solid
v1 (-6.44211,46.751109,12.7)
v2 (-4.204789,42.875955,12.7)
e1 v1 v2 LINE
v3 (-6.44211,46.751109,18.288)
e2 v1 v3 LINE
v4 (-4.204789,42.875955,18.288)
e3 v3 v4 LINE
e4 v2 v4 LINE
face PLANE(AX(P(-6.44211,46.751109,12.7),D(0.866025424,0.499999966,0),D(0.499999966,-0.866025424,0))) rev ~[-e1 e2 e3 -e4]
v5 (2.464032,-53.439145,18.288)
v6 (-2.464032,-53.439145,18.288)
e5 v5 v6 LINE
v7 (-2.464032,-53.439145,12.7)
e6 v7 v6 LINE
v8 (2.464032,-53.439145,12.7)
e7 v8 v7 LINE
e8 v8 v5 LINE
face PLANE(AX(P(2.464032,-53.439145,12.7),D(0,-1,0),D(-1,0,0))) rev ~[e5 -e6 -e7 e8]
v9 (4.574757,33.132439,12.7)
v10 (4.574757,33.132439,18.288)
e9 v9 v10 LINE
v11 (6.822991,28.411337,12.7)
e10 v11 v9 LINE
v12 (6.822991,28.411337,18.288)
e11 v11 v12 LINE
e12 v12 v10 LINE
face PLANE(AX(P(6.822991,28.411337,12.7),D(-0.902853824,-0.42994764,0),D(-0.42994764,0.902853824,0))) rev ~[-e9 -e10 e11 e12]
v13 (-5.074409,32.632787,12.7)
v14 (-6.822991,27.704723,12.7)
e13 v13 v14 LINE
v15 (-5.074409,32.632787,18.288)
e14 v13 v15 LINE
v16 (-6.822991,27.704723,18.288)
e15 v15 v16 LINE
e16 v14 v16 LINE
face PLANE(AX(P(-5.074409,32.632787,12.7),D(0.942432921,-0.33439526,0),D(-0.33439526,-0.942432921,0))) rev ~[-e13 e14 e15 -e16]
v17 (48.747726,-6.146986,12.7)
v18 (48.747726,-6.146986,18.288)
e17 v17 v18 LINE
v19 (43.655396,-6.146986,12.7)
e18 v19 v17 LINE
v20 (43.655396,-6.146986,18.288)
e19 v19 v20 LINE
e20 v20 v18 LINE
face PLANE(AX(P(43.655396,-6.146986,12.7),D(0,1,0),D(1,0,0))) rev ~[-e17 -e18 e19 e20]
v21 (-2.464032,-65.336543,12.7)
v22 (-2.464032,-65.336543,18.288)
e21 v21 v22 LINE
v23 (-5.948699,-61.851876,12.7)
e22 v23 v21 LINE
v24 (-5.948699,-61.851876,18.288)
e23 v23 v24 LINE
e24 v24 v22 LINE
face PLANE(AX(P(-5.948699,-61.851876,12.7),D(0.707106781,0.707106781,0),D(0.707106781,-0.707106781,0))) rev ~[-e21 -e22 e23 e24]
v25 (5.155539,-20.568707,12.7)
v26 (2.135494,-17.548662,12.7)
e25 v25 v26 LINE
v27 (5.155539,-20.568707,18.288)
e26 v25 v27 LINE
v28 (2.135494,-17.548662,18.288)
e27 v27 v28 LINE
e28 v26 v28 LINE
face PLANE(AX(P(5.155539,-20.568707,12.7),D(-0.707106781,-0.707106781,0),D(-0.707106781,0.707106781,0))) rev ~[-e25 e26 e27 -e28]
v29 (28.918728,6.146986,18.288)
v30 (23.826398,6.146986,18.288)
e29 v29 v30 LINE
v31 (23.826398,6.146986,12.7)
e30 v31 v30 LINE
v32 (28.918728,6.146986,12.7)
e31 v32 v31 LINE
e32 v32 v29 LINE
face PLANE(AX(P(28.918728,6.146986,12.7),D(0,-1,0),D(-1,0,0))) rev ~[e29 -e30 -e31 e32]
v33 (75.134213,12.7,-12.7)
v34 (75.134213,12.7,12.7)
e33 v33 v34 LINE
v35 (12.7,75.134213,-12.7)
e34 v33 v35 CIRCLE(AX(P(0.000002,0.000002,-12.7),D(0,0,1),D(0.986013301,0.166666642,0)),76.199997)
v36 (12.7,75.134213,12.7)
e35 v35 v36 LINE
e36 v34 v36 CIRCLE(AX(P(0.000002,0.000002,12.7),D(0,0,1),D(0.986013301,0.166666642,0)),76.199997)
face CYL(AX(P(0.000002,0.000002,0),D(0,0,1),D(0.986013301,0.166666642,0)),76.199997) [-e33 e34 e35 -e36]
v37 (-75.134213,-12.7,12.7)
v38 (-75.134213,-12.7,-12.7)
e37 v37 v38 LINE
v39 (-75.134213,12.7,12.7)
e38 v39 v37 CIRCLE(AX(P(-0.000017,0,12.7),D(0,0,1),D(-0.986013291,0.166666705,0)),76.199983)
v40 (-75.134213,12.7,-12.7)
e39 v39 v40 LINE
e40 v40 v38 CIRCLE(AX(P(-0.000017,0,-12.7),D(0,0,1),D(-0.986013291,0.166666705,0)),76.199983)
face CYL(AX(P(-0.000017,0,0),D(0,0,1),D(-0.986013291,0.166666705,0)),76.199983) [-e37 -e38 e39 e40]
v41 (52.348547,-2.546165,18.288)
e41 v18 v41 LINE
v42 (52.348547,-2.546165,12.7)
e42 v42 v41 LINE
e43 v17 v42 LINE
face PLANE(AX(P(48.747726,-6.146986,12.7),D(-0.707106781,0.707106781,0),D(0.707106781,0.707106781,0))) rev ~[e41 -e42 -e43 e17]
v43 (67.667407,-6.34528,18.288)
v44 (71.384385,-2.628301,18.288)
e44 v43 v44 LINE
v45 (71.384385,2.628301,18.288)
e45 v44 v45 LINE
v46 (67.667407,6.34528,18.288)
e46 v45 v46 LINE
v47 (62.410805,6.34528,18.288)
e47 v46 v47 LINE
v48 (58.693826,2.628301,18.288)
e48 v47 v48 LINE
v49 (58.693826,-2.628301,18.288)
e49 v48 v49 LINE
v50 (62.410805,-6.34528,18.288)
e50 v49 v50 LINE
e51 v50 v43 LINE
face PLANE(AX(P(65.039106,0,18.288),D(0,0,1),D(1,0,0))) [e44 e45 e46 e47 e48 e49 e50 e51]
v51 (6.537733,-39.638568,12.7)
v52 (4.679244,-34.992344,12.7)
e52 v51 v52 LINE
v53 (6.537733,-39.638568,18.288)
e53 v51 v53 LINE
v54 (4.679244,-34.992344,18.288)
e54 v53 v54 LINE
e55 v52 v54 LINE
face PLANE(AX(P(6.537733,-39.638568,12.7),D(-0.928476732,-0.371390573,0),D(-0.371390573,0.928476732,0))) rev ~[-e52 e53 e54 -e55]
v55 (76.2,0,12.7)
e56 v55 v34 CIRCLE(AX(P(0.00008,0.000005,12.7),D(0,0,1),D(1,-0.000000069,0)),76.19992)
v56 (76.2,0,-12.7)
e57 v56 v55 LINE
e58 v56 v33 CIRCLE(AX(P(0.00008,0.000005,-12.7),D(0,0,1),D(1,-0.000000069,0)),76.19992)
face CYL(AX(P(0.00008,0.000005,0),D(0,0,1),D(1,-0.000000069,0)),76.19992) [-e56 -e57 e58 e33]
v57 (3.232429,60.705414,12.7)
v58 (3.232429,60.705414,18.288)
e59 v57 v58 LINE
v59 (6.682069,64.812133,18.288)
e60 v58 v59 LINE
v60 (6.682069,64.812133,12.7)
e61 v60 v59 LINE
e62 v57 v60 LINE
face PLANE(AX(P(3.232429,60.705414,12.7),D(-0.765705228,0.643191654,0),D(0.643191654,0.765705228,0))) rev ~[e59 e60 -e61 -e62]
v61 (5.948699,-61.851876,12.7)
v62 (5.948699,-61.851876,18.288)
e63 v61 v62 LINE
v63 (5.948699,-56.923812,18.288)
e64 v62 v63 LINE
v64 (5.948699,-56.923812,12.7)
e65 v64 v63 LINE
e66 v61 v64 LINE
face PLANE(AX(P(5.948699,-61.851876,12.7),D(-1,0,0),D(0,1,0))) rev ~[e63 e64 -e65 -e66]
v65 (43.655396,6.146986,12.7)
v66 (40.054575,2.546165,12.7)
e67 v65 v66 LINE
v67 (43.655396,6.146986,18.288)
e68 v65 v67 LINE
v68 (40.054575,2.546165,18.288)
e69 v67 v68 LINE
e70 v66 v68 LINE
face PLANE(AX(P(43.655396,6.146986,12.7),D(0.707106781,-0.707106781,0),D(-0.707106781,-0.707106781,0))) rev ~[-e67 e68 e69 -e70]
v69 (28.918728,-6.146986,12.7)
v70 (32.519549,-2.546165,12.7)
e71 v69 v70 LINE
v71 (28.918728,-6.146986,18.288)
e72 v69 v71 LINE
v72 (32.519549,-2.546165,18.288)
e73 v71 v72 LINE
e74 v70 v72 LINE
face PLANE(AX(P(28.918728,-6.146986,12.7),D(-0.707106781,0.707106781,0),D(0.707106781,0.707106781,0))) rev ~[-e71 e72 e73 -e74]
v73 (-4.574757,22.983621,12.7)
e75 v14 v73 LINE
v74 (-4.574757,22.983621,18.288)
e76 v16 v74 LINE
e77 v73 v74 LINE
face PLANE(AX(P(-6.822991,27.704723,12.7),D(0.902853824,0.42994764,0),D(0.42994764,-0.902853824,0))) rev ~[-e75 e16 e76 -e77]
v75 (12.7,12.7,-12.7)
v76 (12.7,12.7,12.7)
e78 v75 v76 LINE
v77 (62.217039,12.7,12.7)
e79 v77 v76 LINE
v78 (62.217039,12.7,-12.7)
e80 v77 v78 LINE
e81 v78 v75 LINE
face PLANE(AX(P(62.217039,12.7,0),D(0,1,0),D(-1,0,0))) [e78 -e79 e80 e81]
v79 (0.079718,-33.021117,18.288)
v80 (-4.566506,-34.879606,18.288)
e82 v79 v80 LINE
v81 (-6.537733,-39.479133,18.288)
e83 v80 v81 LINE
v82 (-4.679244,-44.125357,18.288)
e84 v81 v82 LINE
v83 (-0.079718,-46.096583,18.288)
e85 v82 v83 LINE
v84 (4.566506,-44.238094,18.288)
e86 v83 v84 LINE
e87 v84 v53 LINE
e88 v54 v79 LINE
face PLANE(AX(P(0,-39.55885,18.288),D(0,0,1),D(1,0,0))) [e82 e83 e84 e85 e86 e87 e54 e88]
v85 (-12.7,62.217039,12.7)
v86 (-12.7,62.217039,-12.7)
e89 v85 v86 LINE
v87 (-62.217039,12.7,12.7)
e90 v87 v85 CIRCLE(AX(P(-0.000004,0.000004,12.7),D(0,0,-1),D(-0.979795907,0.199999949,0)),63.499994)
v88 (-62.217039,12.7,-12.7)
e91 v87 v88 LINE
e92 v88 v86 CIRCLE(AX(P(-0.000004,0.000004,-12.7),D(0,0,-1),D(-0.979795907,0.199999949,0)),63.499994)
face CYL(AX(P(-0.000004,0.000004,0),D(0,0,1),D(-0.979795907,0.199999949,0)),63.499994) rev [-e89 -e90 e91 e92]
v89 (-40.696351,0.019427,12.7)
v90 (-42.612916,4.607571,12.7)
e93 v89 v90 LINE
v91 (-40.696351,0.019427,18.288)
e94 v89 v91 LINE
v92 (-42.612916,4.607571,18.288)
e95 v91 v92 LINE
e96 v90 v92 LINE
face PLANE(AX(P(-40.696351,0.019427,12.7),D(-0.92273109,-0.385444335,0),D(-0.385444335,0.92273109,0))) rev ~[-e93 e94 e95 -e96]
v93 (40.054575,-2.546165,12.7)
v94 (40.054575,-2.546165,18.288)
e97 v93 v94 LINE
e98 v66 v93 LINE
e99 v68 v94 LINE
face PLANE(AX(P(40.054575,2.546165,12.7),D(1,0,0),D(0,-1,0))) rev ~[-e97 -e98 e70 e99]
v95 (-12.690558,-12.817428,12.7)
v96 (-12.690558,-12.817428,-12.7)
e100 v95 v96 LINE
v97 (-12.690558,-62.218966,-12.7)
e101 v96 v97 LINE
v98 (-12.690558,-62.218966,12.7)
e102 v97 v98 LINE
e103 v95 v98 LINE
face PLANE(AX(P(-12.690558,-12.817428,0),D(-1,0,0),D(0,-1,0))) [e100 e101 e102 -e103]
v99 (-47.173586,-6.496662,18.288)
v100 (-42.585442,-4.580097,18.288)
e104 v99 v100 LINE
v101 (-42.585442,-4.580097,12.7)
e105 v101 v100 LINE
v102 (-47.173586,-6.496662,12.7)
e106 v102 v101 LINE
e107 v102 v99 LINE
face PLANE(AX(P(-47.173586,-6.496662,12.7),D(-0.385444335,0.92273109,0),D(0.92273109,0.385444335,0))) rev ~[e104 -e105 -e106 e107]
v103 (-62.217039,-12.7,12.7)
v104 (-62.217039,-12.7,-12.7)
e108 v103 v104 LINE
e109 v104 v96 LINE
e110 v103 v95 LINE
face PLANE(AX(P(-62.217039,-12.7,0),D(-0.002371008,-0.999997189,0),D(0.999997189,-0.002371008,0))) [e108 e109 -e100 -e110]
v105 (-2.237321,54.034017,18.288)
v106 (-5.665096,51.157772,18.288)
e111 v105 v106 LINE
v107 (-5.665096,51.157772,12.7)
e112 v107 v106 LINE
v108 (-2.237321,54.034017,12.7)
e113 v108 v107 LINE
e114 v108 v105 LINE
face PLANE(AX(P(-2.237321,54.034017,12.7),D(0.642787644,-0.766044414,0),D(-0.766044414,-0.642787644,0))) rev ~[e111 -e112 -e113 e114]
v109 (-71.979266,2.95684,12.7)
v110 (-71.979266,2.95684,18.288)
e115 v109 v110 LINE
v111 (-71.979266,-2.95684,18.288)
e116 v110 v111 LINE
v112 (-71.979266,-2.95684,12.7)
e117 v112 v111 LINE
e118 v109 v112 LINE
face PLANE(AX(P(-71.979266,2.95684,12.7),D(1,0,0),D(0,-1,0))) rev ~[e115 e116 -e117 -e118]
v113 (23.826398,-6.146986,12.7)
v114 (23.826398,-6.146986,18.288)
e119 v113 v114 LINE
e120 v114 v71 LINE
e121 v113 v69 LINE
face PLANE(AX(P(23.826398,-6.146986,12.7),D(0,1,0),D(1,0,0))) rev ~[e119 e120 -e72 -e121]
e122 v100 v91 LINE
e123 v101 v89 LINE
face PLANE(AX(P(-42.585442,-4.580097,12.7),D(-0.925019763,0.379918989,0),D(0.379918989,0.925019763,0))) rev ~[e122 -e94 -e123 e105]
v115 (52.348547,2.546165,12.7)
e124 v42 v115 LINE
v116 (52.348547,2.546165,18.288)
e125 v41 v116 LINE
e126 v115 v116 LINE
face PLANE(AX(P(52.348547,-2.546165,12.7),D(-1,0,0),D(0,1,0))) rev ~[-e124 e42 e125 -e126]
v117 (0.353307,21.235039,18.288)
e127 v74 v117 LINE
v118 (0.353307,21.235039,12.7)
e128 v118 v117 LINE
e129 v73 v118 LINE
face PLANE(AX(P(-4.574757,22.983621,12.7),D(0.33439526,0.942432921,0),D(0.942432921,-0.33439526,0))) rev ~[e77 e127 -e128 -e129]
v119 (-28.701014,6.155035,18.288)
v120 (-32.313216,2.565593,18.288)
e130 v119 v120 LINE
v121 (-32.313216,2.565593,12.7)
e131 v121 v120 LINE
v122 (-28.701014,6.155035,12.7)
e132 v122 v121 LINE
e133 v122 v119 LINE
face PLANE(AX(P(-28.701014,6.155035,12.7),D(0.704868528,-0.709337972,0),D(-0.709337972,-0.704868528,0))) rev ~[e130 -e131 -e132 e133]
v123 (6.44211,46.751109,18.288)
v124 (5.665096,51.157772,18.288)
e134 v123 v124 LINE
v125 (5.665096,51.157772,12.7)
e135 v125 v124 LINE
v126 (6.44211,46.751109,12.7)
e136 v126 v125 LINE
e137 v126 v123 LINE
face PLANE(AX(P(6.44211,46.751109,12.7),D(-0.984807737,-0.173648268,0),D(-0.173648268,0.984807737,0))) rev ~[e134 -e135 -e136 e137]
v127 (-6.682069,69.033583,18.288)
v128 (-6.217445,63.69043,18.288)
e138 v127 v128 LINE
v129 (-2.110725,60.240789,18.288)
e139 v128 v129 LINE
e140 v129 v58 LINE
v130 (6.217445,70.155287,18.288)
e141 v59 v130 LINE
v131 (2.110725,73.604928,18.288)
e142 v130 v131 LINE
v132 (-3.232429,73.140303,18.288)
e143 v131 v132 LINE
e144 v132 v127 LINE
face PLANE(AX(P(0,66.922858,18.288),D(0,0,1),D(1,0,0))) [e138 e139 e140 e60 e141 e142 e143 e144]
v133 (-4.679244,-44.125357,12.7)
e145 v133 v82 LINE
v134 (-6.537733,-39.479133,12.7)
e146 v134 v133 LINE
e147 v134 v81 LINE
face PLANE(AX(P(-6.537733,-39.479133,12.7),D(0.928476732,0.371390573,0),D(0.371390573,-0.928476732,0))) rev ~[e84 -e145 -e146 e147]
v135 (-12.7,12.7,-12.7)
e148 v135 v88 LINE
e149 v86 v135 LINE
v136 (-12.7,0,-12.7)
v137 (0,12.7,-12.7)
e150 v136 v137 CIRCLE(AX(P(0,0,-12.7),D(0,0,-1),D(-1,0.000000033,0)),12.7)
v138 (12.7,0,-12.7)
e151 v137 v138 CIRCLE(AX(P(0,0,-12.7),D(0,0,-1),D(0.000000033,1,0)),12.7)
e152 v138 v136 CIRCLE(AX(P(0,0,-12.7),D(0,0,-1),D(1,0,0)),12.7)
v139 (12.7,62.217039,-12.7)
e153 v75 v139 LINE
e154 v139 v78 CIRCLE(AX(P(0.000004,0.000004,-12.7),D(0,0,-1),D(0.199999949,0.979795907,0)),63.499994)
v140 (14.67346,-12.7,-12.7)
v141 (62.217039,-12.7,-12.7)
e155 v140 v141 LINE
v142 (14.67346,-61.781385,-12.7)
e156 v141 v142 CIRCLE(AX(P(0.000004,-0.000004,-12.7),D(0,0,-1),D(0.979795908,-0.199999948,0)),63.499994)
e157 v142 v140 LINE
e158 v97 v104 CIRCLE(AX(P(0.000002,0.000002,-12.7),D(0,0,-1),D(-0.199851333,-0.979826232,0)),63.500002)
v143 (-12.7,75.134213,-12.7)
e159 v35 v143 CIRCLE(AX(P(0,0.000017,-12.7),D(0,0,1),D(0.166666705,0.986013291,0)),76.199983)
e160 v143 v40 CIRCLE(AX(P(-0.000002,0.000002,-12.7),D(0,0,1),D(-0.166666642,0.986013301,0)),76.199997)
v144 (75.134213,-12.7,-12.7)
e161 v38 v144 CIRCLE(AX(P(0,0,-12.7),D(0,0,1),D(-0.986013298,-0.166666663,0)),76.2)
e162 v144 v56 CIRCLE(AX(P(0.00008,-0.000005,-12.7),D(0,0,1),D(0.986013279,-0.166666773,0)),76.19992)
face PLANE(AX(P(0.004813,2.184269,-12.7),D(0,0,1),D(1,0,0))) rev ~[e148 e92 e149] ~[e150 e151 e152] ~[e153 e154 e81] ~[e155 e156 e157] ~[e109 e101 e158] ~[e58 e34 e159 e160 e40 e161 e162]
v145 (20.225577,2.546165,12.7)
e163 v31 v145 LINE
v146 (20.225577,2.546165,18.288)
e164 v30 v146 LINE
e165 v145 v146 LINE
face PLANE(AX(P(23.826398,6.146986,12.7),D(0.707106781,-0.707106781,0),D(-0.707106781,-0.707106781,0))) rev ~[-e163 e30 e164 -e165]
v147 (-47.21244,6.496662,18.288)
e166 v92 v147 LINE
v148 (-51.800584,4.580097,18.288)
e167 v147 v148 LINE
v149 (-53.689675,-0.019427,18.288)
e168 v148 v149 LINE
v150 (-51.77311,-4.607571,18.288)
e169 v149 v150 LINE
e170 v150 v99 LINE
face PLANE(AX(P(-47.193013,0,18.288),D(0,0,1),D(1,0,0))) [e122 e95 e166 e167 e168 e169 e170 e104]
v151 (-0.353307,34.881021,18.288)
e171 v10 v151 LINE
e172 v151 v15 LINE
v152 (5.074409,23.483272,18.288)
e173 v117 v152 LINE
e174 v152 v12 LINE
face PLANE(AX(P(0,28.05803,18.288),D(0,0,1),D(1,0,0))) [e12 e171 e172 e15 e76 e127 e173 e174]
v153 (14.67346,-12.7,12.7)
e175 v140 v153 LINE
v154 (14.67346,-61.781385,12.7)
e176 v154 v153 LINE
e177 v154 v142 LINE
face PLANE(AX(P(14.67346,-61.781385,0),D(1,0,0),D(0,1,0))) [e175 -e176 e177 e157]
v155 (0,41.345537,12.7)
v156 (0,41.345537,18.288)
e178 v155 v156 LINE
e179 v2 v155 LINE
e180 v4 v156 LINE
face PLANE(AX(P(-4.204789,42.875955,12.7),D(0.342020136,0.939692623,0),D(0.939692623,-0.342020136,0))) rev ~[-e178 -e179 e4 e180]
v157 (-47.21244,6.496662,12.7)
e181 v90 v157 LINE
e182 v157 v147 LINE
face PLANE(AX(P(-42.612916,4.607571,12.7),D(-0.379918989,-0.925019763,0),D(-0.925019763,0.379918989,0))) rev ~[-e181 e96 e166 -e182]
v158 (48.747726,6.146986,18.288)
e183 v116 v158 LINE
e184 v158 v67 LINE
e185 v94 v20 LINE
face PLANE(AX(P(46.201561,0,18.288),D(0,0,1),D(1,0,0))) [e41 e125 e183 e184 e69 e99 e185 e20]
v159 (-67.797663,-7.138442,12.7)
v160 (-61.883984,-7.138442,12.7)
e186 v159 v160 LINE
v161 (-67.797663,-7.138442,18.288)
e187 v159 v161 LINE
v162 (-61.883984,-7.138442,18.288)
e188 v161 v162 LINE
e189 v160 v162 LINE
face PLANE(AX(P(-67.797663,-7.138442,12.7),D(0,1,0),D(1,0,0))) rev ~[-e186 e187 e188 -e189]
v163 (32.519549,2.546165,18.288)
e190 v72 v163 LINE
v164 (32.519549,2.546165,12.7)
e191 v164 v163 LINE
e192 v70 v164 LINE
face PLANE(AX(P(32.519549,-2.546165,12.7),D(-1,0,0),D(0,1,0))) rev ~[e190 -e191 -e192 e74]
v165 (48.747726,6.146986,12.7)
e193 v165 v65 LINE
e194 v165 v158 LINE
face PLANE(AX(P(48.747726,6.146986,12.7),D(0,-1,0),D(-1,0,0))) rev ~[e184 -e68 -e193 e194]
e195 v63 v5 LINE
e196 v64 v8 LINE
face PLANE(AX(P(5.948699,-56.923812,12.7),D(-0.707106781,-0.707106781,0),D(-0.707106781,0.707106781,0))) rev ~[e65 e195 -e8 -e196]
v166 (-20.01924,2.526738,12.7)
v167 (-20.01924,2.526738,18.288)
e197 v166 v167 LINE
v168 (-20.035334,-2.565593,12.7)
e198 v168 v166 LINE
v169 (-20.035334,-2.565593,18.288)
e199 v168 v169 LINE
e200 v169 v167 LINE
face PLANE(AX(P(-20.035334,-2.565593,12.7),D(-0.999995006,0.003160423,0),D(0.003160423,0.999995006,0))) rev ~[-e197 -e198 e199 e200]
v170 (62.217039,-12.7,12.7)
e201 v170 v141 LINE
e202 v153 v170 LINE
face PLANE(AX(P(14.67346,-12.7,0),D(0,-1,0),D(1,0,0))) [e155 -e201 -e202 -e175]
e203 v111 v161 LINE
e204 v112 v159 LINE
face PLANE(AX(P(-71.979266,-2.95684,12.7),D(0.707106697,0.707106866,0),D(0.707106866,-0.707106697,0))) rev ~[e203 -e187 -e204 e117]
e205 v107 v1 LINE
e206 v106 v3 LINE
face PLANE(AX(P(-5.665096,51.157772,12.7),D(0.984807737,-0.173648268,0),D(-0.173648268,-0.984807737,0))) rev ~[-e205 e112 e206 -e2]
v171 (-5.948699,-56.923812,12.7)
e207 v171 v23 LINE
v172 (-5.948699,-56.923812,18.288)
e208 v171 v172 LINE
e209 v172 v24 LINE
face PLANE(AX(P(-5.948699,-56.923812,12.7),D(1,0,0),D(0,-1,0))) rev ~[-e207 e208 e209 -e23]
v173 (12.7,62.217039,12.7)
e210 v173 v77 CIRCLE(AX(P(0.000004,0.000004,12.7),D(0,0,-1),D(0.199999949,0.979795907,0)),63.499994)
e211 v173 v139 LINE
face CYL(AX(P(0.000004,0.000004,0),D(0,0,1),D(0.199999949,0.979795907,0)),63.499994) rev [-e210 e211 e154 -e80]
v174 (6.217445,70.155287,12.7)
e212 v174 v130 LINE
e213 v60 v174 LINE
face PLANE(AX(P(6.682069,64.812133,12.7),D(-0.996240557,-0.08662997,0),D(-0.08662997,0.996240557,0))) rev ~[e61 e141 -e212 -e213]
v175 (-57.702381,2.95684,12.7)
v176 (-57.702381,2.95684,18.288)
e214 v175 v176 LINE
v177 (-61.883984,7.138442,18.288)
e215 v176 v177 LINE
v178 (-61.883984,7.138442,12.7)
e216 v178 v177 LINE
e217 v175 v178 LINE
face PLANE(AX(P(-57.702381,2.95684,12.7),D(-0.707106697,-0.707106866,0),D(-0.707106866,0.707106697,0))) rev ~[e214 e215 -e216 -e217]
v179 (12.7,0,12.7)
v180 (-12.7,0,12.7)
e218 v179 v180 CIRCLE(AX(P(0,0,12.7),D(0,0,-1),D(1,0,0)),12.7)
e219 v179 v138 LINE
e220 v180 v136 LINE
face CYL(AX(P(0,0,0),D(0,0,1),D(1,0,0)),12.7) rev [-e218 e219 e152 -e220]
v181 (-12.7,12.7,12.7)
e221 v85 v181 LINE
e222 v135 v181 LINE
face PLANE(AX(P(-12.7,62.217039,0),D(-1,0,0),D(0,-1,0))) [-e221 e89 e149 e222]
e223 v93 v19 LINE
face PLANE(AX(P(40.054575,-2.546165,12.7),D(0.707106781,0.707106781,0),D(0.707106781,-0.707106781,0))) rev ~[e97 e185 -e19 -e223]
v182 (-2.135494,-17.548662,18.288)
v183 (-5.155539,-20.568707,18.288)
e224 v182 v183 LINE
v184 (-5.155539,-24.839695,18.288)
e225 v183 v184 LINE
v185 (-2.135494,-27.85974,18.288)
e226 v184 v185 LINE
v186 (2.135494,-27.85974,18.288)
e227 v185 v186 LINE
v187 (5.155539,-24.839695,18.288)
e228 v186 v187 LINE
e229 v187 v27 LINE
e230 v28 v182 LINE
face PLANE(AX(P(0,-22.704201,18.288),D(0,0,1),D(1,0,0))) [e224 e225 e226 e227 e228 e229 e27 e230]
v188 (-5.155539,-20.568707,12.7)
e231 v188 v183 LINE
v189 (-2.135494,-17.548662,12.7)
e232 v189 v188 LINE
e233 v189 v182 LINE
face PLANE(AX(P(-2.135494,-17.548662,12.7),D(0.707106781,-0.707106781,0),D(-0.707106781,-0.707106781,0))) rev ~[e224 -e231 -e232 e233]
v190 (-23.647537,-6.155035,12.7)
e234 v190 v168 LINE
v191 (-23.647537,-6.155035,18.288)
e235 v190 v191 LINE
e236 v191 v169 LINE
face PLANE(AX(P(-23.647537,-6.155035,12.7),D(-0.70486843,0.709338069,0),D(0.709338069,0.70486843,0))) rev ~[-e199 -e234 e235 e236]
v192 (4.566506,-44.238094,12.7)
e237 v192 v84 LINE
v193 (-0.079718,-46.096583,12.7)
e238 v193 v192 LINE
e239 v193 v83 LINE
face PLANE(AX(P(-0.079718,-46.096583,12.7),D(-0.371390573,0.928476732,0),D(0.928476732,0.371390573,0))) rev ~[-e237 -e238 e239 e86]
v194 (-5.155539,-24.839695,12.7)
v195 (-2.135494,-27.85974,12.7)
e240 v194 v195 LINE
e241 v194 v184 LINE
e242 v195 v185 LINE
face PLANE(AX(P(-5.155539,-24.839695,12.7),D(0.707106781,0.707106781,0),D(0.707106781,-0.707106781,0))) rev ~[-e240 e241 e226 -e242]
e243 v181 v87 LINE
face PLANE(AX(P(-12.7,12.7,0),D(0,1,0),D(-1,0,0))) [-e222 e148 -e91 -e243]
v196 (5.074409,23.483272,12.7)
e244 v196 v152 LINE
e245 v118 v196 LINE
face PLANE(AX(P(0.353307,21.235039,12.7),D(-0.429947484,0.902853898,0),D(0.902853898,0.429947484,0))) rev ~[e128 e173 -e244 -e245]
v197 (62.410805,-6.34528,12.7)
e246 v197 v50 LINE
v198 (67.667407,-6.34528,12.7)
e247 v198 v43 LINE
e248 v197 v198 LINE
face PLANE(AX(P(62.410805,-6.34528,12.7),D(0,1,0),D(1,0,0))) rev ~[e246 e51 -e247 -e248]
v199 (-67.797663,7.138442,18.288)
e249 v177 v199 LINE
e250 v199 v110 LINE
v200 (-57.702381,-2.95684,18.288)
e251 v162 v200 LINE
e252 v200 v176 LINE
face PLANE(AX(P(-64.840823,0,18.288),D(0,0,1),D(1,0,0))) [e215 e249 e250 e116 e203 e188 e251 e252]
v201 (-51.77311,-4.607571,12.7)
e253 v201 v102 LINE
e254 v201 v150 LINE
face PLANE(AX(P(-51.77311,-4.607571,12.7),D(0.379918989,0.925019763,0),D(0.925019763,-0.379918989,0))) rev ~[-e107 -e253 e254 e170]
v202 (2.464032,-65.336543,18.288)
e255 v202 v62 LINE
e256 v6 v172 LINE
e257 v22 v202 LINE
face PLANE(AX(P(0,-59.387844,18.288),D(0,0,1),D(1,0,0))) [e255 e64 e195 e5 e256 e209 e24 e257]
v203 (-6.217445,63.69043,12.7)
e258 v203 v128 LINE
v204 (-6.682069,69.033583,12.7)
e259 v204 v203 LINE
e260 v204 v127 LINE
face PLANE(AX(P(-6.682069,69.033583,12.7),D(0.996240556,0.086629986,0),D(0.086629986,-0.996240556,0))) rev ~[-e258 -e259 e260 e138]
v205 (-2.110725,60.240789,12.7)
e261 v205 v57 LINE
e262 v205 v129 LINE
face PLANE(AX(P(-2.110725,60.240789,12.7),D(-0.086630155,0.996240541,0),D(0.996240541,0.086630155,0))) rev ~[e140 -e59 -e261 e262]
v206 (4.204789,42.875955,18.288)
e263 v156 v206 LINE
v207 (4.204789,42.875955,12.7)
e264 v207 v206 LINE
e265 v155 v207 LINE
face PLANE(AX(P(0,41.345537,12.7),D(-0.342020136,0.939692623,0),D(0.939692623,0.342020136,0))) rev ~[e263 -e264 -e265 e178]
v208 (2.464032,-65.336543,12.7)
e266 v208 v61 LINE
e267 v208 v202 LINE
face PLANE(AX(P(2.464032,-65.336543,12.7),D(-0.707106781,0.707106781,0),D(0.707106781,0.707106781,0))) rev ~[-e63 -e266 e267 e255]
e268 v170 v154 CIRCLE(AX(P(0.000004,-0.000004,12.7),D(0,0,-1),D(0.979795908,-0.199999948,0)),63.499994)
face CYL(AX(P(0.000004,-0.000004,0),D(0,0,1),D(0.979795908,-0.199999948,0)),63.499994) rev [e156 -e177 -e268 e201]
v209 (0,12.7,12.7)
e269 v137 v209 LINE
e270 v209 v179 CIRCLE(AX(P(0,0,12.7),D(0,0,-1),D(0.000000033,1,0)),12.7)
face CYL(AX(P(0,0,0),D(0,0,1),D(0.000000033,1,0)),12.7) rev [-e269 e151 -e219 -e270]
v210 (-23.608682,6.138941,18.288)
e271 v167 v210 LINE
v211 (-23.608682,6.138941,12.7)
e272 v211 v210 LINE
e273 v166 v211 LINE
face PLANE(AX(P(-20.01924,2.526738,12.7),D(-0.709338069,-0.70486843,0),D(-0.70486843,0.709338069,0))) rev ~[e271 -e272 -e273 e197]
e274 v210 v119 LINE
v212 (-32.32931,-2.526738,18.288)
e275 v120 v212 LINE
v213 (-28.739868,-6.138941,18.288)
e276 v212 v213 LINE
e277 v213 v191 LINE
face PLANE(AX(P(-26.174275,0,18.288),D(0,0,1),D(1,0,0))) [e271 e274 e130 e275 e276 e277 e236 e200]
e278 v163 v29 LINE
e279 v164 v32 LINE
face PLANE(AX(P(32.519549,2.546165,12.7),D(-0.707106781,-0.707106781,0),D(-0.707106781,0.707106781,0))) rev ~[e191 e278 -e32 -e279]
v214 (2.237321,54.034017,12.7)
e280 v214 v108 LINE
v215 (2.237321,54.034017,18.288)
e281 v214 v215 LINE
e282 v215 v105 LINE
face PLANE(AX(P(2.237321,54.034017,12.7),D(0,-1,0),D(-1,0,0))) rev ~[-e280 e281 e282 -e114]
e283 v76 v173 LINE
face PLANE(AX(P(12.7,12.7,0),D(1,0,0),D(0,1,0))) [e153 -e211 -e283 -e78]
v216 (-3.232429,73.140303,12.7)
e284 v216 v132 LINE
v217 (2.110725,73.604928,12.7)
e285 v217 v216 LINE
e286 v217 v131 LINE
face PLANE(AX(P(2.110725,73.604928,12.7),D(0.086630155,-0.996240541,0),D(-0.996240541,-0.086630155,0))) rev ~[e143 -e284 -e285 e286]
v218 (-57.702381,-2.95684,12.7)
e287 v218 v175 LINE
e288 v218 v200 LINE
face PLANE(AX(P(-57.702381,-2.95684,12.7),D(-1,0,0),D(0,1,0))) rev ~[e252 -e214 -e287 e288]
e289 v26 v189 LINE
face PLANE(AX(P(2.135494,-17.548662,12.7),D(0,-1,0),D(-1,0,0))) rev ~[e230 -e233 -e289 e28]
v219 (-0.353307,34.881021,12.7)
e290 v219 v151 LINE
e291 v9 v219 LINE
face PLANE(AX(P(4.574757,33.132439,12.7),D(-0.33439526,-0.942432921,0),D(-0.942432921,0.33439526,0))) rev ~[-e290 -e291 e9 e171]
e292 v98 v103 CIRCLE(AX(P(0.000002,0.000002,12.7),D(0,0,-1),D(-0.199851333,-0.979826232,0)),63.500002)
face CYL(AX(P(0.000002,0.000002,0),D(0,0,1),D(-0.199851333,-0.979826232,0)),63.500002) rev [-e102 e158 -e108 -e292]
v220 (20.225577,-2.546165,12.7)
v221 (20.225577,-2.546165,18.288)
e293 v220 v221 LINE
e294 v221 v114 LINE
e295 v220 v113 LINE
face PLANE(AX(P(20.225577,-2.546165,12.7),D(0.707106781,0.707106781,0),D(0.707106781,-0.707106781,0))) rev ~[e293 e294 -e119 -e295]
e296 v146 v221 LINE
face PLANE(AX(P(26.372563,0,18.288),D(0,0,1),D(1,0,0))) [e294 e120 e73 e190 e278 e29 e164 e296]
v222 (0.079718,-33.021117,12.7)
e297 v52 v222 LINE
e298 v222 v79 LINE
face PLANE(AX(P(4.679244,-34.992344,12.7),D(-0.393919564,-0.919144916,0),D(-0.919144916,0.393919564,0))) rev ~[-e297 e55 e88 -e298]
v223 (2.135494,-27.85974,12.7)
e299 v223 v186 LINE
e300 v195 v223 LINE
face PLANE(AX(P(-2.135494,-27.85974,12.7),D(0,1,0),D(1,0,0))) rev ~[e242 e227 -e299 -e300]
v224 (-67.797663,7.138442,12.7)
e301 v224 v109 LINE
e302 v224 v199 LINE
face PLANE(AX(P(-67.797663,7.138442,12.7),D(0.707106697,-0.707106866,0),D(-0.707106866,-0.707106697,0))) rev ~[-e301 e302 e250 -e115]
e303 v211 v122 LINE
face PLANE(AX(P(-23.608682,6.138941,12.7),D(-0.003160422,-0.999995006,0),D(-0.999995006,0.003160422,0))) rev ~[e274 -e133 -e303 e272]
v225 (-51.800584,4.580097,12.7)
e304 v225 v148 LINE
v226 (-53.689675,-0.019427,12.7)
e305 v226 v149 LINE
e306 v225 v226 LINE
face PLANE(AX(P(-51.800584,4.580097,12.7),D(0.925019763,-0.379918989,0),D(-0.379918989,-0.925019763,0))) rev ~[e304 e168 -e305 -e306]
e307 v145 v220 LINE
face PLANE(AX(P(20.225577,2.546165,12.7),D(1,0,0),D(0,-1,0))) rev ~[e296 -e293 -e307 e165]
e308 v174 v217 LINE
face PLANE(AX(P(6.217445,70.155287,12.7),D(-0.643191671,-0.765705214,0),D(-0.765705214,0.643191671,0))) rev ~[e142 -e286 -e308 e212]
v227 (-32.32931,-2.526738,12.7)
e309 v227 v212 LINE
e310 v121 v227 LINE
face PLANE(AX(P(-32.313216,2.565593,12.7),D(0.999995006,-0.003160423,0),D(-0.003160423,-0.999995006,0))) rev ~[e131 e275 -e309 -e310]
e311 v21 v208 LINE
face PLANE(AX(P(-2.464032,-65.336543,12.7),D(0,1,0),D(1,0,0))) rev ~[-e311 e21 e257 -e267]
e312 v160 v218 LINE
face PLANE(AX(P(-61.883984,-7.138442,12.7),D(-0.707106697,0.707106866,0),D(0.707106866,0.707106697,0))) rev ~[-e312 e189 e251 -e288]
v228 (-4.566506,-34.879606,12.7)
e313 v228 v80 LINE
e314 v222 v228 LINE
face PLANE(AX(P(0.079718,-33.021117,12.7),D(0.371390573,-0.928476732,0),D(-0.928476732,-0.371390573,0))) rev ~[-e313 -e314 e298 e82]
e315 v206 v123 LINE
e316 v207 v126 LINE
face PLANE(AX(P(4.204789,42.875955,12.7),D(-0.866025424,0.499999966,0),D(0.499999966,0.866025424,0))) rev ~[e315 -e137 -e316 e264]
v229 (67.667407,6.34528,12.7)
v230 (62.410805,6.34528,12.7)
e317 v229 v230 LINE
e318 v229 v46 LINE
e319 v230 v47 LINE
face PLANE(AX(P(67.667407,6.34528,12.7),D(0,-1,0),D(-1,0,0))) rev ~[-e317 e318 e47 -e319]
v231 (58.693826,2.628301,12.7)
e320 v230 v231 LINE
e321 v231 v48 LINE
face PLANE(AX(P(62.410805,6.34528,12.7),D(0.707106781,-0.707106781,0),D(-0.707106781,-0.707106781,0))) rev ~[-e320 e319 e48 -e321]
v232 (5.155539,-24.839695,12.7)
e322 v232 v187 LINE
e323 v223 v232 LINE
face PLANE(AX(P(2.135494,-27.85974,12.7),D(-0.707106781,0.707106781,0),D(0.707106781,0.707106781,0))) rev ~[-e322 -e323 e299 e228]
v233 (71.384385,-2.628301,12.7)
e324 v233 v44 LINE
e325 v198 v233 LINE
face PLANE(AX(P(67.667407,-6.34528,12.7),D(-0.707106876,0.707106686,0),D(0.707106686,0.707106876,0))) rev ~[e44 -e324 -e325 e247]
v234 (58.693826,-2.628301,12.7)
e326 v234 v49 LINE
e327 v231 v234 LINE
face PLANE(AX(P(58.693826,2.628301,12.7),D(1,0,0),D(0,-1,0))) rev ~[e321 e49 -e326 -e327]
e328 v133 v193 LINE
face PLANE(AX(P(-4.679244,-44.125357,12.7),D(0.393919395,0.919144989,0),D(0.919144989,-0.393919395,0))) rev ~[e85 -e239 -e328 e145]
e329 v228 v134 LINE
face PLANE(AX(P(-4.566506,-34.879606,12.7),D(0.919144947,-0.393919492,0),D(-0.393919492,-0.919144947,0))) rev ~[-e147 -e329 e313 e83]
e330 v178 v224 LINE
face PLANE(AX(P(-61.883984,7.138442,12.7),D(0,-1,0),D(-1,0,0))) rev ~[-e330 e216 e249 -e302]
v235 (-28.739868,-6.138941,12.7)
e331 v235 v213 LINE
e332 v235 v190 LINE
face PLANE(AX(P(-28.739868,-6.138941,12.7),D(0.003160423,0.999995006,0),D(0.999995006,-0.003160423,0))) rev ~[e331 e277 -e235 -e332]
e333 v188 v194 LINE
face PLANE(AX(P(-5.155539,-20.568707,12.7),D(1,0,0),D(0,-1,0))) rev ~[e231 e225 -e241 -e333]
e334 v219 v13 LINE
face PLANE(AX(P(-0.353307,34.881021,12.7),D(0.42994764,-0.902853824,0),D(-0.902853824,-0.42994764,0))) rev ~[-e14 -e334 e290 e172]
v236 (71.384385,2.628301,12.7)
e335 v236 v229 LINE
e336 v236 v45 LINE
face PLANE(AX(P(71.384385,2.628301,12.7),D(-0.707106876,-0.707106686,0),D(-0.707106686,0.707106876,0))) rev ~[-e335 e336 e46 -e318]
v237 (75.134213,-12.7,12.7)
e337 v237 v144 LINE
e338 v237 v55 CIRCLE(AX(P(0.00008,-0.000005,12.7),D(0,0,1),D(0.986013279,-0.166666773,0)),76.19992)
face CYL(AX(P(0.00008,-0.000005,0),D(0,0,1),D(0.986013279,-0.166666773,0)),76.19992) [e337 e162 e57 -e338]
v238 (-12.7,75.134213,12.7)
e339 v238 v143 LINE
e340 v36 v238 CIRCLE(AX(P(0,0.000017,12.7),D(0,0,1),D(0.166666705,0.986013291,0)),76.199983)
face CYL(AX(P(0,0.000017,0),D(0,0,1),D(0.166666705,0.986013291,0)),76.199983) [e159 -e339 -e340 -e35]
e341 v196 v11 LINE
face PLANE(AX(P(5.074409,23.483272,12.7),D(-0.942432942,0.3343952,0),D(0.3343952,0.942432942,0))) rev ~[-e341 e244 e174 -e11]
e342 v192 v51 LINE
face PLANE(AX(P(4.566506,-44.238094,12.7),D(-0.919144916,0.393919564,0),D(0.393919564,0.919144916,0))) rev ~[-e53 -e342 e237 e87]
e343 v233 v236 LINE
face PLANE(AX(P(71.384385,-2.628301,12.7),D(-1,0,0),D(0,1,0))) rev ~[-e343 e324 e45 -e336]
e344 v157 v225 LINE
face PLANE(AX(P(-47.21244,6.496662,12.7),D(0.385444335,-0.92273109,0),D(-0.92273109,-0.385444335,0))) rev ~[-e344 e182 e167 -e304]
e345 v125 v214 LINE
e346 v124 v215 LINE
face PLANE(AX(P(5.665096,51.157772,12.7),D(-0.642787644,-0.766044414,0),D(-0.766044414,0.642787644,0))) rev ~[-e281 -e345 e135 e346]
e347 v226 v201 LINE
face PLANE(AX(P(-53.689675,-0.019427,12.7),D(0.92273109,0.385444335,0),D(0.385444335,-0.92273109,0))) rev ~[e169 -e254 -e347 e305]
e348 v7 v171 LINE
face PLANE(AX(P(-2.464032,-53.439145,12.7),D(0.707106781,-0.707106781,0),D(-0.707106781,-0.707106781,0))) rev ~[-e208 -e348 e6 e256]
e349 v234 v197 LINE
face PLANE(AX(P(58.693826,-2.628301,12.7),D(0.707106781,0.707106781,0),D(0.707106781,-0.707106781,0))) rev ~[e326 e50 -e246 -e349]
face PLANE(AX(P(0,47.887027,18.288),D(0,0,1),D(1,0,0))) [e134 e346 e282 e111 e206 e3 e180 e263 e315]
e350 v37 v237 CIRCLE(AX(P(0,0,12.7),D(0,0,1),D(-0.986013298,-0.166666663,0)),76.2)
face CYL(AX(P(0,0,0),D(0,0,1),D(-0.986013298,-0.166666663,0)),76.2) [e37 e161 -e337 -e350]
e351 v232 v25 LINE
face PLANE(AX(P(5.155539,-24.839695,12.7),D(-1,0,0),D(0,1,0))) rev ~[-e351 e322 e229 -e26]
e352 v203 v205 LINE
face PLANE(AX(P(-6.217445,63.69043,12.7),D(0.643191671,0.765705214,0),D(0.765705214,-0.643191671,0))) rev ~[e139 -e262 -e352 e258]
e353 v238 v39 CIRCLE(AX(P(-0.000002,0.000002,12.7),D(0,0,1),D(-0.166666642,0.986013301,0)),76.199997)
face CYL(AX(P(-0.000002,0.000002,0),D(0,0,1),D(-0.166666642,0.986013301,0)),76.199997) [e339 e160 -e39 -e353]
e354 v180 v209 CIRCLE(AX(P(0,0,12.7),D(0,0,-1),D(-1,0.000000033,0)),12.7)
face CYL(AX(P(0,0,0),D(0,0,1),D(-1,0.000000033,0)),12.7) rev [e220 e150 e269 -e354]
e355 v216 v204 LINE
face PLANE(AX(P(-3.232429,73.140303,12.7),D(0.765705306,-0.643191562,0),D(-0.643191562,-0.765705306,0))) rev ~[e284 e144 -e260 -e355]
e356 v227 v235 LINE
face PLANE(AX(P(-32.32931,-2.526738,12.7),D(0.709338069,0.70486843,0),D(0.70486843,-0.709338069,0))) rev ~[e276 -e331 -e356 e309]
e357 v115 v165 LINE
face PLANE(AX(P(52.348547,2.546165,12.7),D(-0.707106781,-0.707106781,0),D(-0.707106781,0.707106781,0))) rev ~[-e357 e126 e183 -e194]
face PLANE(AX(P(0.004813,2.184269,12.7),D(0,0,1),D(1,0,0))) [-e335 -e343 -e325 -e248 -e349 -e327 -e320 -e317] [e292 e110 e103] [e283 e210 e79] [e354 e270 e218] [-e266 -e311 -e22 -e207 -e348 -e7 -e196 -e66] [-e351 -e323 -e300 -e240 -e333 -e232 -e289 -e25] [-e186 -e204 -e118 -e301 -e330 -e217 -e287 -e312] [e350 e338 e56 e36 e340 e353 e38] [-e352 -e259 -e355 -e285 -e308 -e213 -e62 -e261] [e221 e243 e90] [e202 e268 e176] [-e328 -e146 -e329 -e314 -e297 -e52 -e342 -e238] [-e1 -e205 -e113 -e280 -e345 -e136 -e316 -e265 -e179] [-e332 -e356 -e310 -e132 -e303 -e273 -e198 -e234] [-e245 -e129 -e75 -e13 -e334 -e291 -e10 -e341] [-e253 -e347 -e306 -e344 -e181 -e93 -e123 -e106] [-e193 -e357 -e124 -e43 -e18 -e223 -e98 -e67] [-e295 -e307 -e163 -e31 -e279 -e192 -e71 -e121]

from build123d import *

# Parameters (mm, degrees)
F1_DEPTH = 12.7
F3_DEPTH = 5.588


with BuildPart() as f1:
    # F0 (on Top) → F1 (new body, symmetric)
    with BuildSketch(Plane.XY):
        with BuildLine():
            ThreePointArc((75.134213, -12.7), (75.933086, -6.372321), (76.2, 0))
            ThreePointArc((76.2, 0), (75.933086, 6.372321), (75.134213, 12.7))
            ThreePointArc((75.134213, 12.7), (53.881537, 53.881537), (12.7, 75.134213))
            ThreePointArc((12.7, 75.134213), (0, 76.2), (-12.7, 75.134213))
            ThreePointArc((-12.7, 75.134213), (-53.881537, 53.881537), (-75.134213, 12.7))
            ThreePointArc((-75.134213, 12.7), (-76.2, 0), (-75.134213, -12.7))
            ThreePointArc((-75.134213, -12.7), (0, -76.2), (75.134213, -12.7))
        make_face()
        with BuildLine():
            ThreePointArc((-12.690558, -62.218966), (-44.897873, -44.904687), (-62.217039, -12.7))
            Line((-62.217039, -12.7), (-12.690558, -12.817428))
            Line((-12.690558, -12.817428), (-12.690558, -62.218966))
        make_face(mode=Mode.SUBTRACT)
        with BuildLine():
            Line((14.67346, -12.7), (62.217039, -12.7))
            ThreePointArc((62.217039, -12.7), (45.610118, -44.181073), (14.67346, -61.781385))
            Line((14.67346, -61.781385), (14.67346, -12.7))
        make_face(mode=Mode.SUBTRACT)
        with BuildLine():
            Line((-12.7, 12.7), (-62.217039, 12.7))
            ThreePointArc((-62.217039, 12.7), (-44.901281, 44.901281), (-12.7, 62.217039))
            Line((-12.7, 62.217039), (-12.7, 12.7))
        make_face(mode=Mode.SUBTRACT)
        with BuildLine():
            ThreePointArc((0, 12.7), (8.980256, 8.980256), (12.7, 0))
            ThreePointArc((12.7, 0), (0, -12.7), (-12.7, 0))
            ThreePointArc((-12.7, 0), (-8.980256, 8.980256), (0, 12.7))
        make_face(mode=Mode.SUBTRACT)
        with BuildLine():
            Line((12.7, 12.7), (12.7, 62.217039))
            ThreePointArc((12.7, 62.217039), (44.901281, 44.901281), (62.217039, 12.7))
            Line((62.217039, 12.7), (12.7, 12.7))
        make_face(mode=Mode.SUBTRACT)
    extrude(amount=F1_DEPTH, both=True)

    # F2 (on face) → F3 (join)
    with BuildSketch(Plane.XY.offset(12.7)):
        Polygon((3.232429, 60.705414), (6.682069, 64.812133), (6.217445, 70.155287), (2.110725, 73.604928), (-3.232429, 73.140303), (-6.682069, 69.033583), (-6.217445, 63.69043), (-2.110725, 60.240789), align=None)
        Polygon((2.237321, 54.034017), (-2.237321, 54.034017), (-5.665096, 51.157772), (-6.44211, 46.751109), (-4.204789, 42.875955), (0, 41.345537), (4.204789, 42.875955), (6.44211, 46.751109), (5.665096, 51.157772), align=None)
        Polygon((4.574757, 33.132439), (-0.353307, 34.881021), (-5.074409, 32.632787), (-6.822991, 27.704723), (-4.574757, 22.983621), (0.353307, 21.235039), (5.074409, 23.483272), (6.822991, 28.411337), align=None)
        Polygon((-57.702381, -2.95684), (-57.702381, 2.95684), (-61.883984, 7.138442), (-67.797663, 7.138442), (-71.979266, 2.95684), (-71.979266, -2.95684), (-67.797663, -7.138442), (-61.883984, -7.138442), align=None)
        Polygon((-51.800584, 4.580097), (-53.689675, -0.019427), (-51.77311, -4.607571), (-47.173586, -6.496662), (-42.585442, -4.580097), (-40.696351, 0.019427), (-42.612916, 4.607571), (-47.21244, 6.496662), align=None)
        Polygon((-32.313216, 2.565593), (-32.32931, -2.526738), (-28.739868, -6.138941), (-23.647537, -6.155035), (-20.035334, -2.565593), (-20.01924, 2.526738), (-23.608682, 6.138941), (-28.701014, 6.155035), align=None)
        Polygon((-5.155539, -20.568707), (-5.155539, -24.839695), (-2.135494, -27.85974), (2.135494, -27.85974), (5.155539, -24.839695), (5.155539, -20.568707), (2.135494, -17.548662), (-2.135494, -17.548662), align=None)
        Polygon((-4.566506, -34.879606), (-6.537733, -39.479133), (-4.679244, -44.125357), (-0.079718, -46.096583), (4.566506, -44.238094), (6.537733, -39.638568), (4.679244, -34.992344), (0.079718, -33.021117), align=None)
        Polygon((-5.948699, -56.923812), (-5.948699, -61.851876), (-2.464032, -65.336543), (2.464032, -65.336543), (5.948699, -61.851876), (5.948699, -56.923812), (2.464032, -53.439145), (-2.464032, -53.439145), align=None)
        Polygon((20.225577, 2.546165), (20.225577, -2.546165), (23.826398, -6.146986), (28.918728, -6.146986), (32.519549, -2.546165), (32.519549, 2.546165), (28.918728, 6.146986), (23.826398, 6.146986), align=None)
        Polygon((40.054575, 2.546165), (40.054575, -2.546165), (43.655396, -6.146986), (48.747726, -6.146986), (52.348547, -2.546165), (52.348547, 2.546165), (48.747726, 6.146986), (43.655396, 6.146986), align=None)
        Polygon((58.693826, 2.628301), (58.693826, -2.628301), (62.410805, -6.34528), (67.667407, -6.34528), (71.384385, -2.628301), (71.384385, 2.628301), (67.667407, 6.34528), (62.410805, 6.34528), align=None)
    extrude(amount=F3_DEPTH)


solid = f1.part
